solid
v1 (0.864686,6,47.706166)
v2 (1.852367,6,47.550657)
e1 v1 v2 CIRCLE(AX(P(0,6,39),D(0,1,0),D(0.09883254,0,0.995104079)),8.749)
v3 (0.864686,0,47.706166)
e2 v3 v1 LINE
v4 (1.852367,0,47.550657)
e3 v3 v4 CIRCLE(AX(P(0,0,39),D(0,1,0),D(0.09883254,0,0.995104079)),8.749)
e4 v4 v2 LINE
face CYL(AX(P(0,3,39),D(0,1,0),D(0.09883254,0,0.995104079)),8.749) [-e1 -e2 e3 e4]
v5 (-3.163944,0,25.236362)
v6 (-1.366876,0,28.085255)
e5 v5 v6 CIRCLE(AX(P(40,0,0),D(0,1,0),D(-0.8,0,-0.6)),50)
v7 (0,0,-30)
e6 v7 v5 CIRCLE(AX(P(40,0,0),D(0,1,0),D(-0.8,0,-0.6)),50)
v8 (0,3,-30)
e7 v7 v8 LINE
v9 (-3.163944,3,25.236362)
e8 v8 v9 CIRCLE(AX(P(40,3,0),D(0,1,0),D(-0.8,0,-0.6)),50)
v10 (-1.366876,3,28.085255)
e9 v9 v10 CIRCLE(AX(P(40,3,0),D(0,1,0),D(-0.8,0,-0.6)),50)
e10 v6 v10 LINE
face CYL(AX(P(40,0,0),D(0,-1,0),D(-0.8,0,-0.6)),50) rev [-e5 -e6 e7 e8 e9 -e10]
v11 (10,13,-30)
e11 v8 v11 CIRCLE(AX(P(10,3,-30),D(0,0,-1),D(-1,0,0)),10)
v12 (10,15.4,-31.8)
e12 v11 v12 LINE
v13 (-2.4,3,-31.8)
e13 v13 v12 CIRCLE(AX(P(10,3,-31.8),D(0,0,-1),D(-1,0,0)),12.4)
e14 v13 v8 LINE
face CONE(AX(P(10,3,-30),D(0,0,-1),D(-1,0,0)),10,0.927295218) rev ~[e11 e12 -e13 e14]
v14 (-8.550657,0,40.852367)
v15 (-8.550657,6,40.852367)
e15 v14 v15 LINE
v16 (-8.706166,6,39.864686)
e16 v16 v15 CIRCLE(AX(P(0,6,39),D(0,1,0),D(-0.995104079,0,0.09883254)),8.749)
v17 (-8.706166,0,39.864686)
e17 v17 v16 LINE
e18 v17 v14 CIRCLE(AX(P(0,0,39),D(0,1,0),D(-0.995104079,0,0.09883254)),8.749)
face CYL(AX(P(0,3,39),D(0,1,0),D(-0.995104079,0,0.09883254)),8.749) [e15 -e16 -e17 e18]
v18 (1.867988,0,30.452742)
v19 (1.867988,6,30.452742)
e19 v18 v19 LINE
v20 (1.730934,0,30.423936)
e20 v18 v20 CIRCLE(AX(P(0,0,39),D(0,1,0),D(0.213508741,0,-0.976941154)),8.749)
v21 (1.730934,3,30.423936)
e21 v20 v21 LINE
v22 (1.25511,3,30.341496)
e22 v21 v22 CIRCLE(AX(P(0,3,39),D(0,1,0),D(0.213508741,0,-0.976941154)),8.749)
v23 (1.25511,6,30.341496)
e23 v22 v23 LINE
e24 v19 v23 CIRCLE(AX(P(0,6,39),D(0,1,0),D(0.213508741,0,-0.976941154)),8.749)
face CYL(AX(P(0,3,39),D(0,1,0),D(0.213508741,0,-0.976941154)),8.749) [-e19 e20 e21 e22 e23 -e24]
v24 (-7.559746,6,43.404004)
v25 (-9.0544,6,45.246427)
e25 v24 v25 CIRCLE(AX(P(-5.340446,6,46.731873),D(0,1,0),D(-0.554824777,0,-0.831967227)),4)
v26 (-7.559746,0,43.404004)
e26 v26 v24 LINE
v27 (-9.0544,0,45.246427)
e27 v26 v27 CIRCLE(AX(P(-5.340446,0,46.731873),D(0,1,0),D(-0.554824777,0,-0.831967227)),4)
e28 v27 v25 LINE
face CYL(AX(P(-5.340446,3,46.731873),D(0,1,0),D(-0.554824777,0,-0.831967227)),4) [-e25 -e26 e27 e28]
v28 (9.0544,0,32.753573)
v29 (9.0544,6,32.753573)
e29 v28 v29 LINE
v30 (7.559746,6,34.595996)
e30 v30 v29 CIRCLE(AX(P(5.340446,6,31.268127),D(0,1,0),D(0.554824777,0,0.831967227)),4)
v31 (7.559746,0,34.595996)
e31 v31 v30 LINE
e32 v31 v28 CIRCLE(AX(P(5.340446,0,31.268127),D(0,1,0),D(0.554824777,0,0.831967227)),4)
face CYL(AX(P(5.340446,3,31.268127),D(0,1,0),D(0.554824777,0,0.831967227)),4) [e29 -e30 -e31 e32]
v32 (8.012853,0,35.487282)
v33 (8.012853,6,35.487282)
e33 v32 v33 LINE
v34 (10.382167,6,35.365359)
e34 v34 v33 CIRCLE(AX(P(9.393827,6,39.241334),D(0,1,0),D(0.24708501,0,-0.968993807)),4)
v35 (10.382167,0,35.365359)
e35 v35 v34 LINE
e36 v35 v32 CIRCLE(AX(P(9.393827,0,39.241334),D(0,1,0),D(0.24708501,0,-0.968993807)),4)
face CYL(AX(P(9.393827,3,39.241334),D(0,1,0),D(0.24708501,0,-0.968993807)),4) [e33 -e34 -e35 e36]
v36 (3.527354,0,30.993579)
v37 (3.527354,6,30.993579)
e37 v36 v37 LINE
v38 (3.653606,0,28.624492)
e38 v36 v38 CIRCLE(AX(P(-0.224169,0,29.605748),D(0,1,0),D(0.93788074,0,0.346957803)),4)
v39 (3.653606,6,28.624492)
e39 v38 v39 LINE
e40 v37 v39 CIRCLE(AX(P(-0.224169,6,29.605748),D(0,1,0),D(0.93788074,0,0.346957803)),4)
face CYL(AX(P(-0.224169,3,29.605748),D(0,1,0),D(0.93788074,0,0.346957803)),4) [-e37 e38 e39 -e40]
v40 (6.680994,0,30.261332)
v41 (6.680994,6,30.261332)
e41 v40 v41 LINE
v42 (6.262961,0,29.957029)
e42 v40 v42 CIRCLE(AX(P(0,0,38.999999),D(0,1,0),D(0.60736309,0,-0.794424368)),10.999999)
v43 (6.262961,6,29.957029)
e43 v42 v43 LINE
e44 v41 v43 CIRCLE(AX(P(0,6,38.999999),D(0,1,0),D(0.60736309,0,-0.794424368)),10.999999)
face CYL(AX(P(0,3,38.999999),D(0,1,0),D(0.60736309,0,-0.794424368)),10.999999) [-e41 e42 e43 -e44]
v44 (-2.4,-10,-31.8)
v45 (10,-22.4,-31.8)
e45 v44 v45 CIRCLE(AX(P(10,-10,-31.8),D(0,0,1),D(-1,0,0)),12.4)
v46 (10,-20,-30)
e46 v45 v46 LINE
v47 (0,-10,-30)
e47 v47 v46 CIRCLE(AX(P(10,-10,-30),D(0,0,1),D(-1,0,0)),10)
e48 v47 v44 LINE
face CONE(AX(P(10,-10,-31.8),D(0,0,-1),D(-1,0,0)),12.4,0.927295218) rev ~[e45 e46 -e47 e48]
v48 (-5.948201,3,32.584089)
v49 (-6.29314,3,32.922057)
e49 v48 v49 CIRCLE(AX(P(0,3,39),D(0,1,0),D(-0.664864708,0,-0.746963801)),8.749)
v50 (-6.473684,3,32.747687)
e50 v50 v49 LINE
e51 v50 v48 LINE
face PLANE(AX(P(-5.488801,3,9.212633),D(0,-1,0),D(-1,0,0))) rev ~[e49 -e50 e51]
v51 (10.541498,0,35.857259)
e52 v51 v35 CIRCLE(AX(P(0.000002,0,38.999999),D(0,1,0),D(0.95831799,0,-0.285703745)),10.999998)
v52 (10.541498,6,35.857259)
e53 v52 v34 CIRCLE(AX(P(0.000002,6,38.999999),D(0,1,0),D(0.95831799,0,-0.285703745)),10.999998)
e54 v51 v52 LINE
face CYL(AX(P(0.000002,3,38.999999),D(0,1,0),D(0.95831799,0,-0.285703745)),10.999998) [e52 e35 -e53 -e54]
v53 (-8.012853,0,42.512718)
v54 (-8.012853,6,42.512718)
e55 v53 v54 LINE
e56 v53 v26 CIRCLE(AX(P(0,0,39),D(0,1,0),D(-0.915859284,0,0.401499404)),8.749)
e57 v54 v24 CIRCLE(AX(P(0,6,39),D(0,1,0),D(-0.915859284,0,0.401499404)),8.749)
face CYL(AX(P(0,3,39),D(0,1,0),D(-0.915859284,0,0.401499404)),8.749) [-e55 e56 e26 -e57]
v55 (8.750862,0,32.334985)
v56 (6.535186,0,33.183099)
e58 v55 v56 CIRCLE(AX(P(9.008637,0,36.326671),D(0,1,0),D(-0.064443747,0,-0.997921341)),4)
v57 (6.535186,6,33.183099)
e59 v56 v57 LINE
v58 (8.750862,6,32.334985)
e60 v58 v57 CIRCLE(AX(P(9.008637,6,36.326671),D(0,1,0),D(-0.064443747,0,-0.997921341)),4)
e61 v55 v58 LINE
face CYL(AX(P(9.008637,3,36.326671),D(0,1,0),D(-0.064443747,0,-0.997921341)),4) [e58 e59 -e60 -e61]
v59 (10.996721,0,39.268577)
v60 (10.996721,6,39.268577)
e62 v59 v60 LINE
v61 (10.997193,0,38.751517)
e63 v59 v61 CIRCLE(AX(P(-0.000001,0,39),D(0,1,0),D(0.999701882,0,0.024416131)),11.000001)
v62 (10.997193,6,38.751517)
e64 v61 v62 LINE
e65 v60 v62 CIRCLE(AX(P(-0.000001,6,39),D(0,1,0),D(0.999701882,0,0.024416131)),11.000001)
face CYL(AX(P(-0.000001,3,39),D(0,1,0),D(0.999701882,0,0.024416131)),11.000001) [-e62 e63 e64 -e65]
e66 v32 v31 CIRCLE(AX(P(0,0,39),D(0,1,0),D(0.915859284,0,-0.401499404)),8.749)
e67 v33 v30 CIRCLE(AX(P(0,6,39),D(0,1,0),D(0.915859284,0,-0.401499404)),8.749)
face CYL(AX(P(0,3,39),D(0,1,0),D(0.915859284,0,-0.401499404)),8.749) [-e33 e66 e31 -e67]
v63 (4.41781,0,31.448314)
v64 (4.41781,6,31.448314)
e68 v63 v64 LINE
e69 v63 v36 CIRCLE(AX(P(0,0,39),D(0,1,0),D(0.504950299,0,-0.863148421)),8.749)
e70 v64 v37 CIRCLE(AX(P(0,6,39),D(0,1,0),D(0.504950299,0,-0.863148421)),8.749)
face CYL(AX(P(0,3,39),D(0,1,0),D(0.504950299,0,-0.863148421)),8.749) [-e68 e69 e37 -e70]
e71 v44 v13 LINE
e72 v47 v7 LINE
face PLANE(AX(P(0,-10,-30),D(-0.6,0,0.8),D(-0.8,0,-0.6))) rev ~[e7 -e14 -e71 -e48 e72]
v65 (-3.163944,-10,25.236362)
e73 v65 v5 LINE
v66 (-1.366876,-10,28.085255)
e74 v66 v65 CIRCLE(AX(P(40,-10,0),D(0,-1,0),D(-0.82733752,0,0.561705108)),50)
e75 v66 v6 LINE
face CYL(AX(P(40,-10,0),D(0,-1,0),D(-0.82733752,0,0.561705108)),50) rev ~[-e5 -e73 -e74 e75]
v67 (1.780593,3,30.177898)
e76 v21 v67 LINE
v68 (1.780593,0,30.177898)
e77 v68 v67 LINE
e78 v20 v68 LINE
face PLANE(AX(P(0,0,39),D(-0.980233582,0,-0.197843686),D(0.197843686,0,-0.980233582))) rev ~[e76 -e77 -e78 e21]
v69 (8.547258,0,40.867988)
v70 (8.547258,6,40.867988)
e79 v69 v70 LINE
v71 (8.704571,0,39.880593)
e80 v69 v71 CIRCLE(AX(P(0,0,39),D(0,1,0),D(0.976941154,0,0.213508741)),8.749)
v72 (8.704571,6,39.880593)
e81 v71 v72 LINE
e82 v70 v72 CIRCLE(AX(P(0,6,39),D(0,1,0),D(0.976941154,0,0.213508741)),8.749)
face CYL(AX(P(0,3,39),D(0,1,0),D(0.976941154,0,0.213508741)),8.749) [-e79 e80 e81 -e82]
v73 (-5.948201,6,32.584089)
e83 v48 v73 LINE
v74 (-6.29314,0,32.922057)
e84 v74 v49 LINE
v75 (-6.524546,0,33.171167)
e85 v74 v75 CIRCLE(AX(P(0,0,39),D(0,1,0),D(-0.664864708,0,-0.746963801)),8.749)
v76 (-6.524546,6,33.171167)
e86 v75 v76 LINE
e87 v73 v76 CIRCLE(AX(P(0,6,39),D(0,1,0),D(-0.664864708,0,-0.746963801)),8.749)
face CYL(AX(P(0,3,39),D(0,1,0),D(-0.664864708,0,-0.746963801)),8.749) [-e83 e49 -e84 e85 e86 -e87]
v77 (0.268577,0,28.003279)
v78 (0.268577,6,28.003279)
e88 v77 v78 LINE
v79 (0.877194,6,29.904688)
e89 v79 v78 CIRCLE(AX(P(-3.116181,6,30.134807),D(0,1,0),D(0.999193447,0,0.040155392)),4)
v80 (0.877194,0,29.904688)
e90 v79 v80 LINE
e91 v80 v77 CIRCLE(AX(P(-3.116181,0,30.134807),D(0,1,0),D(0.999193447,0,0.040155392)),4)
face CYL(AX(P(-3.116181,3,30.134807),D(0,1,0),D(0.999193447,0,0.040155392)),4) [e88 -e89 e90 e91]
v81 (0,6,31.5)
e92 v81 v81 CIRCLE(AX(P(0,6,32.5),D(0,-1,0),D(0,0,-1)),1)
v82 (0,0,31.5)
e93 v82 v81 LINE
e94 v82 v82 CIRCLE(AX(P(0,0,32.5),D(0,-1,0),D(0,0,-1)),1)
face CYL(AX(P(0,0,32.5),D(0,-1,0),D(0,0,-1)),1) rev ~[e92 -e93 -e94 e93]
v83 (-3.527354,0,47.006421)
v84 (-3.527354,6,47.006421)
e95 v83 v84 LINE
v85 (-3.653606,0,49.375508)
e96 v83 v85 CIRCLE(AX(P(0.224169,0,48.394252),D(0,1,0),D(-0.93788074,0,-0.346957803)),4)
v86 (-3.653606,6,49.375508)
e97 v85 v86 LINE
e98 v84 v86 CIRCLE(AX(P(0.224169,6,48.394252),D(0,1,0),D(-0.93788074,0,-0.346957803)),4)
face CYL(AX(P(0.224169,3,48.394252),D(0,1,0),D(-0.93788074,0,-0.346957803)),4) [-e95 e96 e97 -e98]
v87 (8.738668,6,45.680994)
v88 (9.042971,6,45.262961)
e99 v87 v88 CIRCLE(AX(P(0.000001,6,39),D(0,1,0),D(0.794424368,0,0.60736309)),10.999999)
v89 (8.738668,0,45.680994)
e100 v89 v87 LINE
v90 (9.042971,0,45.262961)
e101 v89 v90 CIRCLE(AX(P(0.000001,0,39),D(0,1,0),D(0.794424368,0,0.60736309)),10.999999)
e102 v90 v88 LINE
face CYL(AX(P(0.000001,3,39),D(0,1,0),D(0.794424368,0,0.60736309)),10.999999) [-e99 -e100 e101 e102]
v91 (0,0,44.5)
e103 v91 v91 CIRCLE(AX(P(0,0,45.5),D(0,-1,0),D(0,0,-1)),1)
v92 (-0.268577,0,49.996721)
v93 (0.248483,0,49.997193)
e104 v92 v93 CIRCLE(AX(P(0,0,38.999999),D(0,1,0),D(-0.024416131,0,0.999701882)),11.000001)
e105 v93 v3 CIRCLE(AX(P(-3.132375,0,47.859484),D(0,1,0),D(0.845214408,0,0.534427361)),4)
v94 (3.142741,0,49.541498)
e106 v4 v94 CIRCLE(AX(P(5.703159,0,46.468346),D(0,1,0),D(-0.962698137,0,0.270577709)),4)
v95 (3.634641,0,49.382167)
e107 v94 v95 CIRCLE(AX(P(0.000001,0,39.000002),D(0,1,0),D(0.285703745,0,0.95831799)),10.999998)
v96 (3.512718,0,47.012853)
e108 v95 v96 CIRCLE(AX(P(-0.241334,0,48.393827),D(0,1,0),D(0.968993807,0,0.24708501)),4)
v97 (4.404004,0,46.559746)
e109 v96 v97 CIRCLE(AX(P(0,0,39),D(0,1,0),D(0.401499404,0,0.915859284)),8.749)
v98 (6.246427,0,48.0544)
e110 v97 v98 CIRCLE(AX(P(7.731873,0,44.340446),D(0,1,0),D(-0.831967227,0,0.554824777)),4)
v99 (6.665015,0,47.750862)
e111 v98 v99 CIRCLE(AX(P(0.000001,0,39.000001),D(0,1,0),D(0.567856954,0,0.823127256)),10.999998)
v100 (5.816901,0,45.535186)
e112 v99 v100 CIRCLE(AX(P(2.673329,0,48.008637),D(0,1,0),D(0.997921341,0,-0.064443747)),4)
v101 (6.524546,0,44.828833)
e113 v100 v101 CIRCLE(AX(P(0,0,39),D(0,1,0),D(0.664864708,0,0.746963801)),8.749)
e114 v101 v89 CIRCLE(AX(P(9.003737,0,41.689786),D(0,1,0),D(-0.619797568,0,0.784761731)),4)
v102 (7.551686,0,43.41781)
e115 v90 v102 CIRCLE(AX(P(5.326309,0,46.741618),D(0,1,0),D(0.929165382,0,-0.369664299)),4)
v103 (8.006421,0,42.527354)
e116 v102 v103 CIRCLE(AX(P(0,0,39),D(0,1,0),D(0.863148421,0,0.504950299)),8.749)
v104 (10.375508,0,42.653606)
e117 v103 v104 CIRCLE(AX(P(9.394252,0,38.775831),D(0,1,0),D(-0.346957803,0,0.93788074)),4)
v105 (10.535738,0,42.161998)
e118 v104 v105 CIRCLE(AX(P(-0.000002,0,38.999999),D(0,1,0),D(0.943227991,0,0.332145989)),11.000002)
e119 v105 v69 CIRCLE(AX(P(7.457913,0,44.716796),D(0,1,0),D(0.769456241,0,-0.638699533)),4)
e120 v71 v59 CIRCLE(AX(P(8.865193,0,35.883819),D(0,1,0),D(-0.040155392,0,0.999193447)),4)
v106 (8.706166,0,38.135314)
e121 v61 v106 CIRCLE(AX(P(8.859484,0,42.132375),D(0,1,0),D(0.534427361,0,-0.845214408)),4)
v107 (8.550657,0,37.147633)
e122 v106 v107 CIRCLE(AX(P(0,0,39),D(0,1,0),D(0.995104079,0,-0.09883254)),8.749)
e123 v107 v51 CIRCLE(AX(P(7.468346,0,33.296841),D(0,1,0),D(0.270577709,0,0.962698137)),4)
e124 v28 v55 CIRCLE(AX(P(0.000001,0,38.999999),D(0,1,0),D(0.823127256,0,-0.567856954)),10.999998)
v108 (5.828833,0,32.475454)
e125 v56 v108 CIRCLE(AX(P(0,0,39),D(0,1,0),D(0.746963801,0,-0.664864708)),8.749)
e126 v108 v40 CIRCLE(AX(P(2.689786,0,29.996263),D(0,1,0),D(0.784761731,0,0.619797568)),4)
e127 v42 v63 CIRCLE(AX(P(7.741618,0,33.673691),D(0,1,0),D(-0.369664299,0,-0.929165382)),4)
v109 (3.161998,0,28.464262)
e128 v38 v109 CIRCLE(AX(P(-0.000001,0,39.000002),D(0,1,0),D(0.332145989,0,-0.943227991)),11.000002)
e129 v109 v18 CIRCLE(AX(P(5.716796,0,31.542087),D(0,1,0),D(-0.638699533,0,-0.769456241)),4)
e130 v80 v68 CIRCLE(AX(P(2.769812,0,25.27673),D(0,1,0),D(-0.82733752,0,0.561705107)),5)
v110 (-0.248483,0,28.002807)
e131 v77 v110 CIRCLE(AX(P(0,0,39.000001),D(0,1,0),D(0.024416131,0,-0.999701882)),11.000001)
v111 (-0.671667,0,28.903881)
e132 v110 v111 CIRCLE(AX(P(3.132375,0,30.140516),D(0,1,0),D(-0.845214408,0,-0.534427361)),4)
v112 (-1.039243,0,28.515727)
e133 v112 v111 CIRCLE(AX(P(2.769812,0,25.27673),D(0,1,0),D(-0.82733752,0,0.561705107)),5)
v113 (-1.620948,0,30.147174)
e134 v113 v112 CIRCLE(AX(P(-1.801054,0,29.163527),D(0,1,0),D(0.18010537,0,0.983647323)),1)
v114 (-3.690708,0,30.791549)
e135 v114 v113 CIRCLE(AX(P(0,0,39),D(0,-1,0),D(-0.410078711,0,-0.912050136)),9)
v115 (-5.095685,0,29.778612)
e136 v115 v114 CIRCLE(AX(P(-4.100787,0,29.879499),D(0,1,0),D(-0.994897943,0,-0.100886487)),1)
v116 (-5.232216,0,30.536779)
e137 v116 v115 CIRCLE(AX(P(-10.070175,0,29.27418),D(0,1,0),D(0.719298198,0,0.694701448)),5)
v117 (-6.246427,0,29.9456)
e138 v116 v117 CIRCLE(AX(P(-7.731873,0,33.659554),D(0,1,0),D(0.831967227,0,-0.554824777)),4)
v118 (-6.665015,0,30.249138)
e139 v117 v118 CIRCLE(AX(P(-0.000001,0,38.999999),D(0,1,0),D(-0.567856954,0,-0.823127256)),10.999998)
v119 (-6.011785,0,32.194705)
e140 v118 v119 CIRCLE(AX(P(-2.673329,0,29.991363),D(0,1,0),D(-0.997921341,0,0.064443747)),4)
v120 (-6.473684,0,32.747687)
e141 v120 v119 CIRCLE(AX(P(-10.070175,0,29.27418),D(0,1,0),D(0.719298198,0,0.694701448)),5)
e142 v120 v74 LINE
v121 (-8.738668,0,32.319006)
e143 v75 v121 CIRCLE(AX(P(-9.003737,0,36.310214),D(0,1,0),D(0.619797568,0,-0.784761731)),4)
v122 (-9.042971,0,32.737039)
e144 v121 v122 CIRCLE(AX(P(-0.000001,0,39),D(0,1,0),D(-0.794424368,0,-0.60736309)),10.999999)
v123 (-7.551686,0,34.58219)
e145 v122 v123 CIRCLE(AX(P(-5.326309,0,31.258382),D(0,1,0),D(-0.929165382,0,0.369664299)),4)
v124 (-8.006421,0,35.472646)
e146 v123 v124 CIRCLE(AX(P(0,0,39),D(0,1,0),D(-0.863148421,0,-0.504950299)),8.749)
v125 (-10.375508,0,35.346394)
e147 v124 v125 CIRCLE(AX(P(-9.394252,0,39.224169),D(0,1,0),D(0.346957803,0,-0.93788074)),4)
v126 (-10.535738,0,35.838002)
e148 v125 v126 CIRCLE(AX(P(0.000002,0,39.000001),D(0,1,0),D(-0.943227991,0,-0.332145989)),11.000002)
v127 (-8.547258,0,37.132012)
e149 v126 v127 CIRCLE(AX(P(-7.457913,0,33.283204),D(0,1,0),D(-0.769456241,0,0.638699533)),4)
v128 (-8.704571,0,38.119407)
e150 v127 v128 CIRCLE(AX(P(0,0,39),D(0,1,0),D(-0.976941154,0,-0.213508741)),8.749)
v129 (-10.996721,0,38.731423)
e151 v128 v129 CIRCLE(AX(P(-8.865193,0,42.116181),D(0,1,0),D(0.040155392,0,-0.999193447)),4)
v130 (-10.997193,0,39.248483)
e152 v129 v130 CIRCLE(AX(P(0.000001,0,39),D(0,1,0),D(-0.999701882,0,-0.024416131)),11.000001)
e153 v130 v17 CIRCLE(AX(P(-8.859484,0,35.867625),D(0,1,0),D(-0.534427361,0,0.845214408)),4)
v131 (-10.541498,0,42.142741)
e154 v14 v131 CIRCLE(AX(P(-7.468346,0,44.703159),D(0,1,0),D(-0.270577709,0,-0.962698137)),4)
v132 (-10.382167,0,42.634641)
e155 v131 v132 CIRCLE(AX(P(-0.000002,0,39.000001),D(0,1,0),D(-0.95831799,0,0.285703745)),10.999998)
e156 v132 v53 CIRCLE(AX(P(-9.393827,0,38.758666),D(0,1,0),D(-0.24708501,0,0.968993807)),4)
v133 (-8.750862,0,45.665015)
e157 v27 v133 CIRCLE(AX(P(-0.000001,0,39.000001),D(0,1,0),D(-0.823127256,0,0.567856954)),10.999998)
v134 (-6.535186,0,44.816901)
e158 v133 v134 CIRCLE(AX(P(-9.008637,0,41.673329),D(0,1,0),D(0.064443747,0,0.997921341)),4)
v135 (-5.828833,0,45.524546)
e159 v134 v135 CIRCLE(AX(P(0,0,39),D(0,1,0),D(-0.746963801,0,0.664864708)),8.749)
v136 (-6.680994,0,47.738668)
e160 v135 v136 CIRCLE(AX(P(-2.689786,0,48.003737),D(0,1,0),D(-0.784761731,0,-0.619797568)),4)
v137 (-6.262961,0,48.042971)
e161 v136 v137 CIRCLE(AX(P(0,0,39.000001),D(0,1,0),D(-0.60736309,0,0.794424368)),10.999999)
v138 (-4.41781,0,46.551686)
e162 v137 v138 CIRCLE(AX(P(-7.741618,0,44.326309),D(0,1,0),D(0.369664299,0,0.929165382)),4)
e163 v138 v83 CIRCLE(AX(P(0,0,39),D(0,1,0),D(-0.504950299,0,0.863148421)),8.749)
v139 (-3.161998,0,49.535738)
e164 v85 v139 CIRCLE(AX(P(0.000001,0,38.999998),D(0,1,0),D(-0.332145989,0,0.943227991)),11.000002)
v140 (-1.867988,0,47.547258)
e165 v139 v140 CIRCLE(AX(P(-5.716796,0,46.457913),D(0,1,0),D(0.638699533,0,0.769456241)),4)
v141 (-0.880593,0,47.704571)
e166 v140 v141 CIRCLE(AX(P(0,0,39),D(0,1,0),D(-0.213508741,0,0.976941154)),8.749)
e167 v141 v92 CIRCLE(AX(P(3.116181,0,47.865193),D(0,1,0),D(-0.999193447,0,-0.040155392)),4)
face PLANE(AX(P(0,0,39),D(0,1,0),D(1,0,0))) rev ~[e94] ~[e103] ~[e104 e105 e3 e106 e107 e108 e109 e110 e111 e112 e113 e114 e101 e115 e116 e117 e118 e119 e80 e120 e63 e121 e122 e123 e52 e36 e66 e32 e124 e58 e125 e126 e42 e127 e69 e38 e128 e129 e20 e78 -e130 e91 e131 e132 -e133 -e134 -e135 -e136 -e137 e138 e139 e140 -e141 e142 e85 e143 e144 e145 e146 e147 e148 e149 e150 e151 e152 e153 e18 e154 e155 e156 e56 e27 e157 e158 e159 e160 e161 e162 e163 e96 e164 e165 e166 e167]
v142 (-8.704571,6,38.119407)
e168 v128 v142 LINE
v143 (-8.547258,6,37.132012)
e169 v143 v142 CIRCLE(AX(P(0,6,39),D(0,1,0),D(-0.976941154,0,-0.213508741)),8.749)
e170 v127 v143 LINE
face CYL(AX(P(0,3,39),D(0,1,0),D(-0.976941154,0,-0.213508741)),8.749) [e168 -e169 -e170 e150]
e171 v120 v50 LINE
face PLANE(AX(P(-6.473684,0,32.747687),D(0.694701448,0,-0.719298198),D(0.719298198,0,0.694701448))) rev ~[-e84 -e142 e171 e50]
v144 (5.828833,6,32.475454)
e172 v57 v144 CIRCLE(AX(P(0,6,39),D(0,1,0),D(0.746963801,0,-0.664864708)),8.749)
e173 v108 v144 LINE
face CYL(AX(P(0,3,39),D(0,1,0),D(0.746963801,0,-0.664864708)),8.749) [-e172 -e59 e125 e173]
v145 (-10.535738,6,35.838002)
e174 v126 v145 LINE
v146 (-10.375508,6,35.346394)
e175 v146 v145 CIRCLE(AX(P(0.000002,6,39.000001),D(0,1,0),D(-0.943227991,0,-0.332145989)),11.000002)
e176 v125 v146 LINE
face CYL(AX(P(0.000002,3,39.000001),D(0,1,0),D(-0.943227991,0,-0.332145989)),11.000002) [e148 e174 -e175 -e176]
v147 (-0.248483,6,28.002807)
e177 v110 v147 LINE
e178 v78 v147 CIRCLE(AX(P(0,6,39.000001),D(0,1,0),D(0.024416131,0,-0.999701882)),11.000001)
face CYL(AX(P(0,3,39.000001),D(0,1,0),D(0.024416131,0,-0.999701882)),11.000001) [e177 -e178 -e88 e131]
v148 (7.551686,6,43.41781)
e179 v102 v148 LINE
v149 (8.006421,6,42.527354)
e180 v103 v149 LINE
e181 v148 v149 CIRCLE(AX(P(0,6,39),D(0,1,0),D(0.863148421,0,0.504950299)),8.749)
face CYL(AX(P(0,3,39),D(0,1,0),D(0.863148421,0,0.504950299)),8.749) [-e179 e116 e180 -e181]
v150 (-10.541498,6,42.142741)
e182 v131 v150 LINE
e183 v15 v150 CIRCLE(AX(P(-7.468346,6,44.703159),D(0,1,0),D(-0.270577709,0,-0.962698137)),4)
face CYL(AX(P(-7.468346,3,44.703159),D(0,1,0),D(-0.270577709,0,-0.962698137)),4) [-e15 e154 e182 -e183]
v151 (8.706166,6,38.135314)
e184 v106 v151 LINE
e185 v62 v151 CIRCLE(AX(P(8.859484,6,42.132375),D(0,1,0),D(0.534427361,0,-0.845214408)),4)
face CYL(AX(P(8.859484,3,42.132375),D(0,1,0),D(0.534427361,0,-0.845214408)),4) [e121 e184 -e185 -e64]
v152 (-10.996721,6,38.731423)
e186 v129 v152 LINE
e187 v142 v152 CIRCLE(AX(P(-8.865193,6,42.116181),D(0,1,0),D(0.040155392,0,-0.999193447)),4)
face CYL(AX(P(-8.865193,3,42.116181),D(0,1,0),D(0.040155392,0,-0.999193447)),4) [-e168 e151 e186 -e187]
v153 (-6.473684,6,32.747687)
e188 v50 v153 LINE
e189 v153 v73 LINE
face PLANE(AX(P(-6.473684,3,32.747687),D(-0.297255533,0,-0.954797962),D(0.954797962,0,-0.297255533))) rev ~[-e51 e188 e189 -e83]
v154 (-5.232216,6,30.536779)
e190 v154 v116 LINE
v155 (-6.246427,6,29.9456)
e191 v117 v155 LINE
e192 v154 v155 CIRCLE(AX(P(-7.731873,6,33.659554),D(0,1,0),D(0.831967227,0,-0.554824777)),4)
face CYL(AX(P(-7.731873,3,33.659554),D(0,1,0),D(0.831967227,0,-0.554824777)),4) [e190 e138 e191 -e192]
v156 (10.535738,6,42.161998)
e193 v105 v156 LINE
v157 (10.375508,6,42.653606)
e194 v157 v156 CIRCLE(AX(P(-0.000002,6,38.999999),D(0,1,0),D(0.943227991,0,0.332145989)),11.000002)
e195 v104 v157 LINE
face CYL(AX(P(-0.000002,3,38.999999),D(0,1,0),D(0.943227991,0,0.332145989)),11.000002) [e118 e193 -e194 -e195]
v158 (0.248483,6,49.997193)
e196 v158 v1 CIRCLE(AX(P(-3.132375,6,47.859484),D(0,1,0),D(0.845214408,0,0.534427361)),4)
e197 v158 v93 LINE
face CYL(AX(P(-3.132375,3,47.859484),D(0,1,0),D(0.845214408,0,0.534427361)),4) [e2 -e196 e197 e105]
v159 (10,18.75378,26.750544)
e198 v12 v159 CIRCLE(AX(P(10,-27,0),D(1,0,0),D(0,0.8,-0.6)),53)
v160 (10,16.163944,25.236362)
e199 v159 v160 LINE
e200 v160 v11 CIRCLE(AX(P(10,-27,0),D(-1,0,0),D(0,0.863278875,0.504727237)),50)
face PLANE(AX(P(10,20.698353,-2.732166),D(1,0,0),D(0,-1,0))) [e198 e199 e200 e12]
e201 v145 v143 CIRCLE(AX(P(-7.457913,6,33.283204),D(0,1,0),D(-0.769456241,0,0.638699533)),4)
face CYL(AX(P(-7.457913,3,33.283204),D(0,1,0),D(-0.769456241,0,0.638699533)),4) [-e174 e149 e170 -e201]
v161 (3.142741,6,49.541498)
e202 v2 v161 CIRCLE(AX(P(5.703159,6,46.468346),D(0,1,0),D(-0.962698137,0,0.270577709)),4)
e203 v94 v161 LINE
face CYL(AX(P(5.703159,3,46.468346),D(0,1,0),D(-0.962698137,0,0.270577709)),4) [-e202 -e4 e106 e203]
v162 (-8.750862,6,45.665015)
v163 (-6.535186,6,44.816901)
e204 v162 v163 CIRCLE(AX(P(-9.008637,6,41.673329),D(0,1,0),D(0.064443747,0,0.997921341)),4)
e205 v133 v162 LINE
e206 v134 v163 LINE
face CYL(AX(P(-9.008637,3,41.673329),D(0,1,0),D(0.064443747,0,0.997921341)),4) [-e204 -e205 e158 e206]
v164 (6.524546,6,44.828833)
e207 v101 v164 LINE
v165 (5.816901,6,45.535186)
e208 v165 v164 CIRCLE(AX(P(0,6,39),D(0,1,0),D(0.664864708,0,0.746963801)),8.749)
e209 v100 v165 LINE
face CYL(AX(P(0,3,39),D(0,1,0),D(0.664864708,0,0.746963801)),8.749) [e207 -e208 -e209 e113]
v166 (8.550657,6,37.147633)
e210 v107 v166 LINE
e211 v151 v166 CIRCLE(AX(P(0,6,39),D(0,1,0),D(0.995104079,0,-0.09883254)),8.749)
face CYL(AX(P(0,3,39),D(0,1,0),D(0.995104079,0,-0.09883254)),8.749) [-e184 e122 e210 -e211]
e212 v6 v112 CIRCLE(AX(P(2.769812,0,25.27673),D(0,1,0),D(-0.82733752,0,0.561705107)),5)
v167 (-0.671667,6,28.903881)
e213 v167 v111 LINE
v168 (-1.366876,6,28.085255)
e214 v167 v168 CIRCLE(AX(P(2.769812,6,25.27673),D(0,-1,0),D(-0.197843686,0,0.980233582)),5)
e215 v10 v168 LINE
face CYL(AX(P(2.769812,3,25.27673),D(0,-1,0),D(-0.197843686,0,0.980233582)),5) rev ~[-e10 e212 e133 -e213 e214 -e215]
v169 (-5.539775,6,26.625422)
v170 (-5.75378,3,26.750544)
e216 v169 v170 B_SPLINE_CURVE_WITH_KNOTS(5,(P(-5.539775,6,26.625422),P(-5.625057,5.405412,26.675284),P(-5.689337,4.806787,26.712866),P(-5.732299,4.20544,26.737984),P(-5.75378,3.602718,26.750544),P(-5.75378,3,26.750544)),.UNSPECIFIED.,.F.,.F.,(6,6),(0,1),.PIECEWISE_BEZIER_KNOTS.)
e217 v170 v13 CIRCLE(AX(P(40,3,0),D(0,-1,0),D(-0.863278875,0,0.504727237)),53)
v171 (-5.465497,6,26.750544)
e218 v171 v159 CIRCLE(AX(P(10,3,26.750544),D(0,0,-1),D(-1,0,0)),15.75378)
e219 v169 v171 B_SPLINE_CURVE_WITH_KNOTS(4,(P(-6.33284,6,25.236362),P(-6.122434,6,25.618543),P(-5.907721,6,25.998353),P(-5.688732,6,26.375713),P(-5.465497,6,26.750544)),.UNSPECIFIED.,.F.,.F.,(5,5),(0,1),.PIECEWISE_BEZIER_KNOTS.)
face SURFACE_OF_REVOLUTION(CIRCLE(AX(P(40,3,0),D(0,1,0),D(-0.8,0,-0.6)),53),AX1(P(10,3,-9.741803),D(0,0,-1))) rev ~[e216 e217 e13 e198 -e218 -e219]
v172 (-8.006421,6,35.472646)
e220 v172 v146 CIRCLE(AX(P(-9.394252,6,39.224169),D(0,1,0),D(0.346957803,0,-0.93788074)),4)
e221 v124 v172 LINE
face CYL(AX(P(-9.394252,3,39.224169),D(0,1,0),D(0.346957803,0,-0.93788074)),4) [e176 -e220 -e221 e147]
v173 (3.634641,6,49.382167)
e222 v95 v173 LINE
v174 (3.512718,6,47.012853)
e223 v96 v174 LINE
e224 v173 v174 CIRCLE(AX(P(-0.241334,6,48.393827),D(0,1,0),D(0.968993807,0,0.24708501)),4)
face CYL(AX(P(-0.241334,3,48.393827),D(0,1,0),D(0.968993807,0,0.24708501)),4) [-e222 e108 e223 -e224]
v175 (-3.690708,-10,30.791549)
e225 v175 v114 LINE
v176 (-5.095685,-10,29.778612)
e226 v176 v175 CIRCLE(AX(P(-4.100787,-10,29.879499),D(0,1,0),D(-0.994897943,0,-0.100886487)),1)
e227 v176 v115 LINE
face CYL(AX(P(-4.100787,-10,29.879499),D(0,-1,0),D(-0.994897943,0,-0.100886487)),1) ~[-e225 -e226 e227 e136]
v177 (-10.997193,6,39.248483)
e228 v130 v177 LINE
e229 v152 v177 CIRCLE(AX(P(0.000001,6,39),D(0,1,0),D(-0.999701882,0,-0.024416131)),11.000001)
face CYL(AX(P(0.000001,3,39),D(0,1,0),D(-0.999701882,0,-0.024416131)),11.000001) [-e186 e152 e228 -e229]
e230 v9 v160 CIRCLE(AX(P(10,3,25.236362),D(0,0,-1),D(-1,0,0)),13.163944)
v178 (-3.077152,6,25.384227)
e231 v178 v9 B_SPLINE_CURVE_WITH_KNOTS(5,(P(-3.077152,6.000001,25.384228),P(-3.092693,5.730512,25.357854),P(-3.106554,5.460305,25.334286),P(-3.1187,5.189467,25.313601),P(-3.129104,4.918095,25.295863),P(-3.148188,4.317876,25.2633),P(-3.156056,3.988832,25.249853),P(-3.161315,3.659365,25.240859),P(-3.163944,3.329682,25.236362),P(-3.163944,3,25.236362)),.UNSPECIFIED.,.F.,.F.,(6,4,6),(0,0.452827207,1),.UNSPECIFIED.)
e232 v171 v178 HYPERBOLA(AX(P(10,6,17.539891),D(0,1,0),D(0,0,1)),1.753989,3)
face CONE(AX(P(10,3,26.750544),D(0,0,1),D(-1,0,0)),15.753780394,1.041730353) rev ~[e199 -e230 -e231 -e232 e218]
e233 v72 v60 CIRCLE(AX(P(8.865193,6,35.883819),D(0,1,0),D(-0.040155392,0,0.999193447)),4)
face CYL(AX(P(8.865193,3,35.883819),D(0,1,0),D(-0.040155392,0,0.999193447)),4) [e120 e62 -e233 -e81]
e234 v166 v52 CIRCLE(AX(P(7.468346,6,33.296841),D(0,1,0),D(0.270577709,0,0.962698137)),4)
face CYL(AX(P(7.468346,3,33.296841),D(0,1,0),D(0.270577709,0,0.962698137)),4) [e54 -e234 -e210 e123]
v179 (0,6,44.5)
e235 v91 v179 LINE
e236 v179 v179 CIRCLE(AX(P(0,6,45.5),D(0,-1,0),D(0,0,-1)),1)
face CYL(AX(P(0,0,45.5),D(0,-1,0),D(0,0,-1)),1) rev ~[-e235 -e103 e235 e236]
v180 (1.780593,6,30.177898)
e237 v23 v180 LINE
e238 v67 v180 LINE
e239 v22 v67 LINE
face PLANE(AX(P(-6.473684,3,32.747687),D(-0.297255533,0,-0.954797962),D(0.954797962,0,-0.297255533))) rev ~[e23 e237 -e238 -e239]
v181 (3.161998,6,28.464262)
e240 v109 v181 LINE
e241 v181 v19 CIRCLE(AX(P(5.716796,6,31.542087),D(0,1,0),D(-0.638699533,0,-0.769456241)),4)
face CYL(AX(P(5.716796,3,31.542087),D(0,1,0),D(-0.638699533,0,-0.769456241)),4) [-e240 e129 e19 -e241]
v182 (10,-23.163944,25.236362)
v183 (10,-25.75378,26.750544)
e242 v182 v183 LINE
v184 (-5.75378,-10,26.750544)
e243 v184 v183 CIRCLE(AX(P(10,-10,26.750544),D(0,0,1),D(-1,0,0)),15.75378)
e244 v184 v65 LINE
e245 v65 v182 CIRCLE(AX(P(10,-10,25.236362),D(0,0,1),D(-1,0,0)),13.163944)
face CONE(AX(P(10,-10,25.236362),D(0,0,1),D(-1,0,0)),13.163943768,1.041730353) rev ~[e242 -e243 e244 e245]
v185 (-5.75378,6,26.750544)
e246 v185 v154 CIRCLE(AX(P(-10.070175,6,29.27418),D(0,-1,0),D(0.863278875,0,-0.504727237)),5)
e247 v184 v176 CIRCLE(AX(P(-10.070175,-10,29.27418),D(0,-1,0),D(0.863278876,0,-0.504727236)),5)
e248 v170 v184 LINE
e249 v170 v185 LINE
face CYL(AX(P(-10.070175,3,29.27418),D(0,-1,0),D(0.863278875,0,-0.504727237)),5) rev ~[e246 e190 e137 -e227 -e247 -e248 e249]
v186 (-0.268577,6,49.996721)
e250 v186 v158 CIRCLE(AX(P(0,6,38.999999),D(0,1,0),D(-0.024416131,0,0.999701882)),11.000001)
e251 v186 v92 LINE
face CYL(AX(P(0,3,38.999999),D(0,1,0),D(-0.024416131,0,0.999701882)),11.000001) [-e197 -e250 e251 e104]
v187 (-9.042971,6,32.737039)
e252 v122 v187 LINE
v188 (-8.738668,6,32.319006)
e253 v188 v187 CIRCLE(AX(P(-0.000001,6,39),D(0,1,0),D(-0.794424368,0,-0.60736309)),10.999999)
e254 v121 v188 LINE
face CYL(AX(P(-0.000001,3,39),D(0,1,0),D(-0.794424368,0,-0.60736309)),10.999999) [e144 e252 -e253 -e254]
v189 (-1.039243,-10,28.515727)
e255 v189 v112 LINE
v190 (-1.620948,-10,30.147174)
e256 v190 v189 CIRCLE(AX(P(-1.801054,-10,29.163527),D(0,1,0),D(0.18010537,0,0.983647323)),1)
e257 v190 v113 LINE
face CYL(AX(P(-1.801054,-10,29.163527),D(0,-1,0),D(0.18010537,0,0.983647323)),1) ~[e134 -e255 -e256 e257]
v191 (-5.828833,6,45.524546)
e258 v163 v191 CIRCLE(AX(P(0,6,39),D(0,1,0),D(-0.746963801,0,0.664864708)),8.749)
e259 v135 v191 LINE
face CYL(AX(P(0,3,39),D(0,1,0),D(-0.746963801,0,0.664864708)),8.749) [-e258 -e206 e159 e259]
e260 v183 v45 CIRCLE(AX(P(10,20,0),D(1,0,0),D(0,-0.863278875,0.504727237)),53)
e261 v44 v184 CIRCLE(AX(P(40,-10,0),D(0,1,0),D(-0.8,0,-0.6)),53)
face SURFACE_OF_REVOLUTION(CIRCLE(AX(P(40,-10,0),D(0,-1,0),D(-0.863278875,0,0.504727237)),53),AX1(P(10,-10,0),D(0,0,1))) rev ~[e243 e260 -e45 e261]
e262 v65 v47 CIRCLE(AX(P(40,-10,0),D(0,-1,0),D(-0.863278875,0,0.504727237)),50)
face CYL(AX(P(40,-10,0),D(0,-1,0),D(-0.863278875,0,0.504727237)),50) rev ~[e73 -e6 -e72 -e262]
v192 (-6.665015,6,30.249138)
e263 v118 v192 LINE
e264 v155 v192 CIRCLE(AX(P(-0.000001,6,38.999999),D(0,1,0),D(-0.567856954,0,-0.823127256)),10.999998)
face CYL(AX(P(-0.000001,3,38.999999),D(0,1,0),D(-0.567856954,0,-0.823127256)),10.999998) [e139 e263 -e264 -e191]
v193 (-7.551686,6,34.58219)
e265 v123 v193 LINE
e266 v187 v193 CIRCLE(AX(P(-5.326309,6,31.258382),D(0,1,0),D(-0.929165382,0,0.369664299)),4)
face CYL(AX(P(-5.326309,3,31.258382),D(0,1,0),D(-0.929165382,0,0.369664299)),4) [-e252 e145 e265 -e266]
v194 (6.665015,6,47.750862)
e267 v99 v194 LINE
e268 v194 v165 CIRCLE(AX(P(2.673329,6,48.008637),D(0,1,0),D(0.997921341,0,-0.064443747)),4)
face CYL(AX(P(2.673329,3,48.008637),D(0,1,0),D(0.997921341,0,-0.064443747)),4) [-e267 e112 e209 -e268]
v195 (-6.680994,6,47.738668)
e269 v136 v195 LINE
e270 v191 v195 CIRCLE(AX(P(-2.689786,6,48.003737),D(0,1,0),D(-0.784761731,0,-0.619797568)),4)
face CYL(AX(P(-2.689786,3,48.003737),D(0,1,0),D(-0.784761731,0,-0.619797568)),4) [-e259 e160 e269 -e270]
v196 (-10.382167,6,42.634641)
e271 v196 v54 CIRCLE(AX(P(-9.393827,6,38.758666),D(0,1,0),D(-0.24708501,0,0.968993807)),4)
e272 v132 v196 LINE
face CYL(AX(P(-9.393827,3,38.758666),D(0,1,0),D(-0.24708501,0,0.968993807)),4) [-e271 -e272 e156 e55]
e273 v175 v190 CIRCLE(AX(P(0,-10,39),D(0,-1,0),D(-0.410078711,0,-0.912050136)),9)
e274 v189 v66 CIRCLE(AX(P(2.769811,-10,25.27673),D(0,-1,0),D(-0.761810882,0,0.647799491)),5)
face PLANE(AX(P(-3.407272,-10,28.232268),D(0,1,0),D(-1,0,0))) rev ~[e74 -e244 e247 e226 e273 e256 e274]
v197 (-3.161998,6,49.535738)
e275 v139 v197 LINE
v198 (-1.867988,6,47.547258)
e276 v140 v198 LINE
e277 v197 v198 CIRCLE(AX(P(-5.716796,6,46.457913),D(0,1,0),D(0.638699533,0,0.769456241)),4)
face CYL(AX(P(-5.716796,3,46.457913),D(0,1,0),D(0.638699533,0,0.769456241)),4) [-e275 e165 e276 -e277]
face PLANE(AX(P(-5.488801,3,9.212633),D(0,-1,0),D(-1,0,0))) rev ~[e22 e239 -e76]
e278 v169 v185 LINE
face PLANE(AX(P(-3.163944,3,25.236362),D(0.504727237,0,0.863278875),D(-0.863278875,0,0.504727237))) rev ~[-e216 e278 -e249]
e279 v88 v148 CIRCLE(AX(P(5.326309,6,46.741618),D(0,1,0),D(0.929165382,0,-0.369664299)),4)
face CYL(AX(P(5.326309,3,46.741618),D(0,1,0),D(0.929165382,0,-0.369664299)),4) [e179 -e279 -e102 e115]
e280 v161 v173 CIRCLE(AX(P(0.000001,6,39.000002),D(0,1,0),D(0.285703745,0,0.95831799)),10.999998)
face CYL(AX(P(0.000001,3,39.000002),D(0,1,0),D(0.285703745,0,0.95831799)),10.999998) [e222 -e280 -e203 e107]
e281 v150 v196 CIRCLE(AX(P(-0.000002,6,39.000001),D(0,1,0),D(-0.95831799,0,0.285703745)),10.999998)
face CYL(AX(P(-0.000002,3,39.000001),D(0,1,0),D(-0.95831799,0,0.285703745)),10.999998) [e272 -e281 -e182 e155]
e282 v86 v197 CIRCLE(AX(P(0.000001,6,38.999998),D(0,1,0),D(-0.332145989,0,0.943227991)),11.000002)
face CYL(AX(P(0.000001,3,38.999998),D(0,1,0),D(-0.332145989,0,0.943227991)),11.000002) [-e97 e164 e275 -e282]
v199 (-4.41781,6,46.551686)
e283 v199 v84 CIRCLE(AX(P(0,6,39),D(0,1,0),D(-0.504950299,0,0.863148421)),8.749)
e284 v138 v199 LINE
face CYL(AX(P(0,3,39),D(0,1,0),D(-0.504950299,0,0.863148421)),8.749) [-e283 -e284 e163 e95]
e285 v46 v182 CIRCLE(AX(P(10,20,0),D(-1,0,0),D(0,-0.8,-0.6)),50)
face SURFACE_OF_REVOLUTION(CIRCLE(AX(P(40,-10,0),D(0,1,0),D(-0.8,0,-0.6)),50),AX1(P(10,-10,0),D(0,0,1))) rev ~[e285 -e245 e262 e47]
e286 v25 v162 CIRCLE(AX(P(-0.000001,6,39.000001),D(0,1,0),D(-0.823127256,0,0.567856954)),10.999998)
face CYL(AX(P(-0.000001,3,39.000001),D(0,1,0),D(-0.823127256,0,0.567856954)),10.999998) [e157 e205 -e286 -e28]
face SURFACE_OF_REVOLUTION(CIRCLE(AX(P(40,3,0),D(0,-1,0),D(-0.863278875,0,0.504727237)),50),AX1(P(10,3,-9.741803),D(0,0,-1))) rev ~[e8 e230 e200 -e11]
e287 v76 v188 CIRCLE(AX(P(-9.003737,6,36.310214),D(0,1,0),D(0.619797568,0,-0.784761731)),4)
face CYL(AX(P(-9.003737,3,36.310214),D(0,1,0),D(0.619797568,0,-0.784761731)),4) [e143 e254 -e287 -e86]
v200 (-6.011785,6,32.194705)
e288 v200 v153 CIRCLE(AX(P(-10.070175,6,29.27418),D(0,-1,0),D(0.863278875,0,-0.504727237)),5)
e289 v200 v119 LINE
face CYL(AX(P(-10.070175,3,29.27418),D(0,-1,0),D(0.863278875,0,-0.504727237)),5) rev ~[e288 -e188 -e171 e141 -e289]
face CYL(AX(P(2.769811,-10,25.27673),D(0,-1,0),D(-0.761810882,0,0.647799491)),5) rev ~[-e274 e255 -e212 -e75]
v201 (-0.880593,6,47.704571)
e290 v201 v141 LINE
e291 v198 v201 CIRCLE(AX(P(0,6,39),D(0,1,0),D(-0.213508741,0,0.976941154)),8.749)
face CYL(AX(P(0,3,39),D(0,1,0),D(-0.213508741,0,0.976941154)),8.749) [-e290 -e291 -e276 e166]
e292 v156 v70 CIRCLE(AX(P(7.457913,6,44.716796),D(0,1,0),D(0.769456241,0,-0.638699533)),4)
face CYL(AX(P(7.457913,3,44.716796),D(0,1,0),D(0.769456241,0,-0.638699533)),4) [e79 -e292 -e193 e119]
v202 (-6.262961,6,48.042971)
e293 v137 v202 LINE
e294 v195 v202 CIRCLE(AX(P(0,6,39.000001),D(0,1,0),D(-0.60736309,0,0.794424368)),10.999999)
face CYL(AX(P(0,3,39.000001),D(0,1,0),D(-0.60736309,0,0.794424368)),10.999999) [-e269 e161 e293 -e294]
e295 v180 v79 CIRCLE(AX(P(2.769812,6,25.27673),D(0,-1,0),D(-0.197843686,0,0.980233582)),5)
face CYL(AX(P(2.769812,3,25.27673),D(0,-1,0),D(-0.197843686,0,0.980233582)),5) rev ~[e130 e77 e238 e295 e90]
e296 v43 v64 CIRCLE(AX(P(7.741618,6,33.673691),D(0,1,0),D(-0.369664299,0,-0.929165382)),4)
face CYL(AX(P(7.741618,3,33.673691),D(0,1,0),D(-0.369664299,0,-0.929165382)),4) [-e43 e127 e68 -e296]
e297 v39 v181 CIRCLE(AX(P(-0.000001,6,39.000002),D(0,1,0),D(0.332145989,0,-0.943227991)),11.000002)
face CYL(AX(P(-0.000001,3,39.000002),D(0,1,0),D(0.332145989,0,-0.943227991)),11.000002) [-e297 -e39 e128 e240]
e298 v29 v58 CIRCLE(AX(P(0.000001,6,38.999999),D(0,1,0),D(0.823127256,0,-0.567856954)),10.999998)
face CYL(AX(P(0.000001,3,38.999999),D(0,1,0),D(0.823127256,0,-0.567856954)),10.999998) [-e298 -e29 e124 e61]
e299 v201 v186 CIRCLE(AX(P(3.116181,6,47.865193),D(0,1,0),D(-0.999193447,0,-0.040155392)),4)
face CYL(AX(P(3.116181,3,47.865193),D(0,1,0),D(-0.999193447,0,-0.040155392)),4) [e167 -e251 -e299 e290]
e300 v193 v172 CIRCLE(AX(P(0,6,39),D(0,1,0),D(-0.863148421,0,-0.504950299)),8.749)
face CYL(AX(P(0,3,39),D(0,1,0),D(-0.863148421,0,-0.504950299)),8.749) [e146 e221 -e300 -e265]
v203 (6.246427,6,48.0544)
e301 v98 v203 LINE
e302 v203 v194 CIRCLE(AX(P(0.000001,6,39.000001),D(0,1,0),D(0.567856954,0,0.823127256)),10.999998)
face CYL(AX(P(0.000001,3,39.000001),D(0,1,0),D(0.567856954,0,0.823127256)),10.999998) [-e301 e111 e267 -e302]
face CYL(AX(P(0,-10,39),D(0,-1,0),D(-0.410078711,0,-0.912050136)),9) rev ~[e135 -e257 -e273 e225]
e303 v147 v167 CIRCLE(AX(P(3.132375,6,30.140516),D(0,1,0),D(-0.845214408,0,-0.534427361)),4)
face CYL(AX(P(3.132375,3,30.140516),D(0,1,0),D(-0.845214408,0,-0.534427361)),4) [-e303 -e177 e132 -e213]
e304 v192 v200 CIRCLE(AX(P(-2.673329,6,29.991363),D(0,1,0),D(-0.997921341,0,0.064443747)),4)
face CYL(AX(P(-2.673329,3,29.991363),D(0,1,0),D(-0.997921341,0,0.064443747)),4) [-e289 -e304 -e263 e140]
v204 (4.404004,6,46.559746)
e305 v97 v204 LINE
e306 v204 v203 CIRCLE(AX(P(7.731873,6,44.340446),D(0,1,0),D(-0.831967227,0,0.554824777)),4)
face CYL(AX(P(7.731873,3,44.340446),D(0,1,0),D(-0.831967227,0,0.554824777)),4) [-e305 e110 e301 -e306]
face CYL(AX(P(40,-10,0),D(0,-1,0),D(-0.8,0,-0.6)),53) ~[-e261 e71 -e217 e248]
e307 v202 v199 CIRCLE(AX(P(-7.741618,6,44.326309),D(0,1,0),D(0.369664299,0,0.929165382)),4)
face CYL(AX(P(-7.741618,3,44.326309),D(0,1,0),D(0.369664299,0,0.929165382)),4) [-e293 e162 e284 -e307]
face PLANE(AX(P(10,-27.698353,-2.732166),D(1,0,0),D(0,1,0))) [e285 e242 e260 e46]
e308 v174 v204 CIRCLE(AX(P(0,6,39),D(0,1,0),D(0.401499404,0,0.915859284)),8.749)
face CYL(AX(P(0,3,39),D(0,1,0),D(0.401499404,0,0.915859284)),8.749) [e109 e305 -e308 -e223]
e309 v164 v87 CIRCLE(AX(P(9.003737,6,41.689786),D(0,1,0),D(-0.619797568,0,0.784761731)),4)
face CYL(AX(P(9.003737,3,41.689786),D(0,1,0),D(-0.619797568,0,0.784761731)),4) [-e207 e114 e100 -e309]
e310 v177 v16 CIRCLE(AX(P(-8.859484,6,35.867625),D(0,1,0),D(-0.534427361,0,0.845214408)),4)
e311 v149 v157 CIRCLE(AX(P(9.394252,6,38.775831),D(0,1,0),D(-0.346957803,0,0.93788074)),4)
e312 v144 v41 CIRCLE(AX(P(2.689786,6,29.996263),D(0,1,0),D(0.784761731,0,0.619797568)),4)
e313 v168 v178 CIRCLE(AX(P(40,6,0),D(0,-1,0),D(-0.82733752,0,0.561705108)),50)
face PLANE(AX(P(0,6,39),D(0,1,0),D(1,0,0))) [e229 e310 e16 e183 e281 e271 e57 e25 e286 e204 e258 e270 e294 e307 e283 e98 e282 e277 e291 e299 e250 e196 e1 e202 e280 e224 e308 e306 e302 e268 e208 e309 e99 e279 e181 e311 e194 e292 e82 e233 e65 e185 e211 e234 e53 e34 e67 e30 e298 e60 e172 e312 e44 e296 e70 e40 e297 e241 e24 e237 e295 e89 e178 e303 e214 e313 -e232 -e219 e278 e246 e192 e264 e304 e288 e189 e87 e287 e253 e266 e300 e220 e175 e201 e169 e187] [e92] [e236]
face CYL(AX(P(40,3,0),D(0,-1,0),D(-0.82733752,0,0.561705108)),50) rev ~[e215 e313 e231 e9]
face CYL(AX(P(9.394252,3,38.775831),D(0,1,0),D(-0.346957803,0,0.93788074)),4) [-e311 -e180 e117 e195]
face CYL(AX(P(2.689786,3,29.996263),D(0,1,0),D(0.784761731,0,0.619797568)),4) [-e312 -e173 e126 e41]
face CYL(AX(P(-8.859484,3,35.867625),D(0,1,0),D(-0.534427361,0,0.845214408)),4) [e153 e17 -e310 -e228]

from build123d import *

# Parameters (mm, degrees)
SKETCH_1_R          = 1.25
EXTRUDE_2_DEPTH     = 3
REVOLVE_6_ANGLE     = 90
EXTRUDE_START       = 10
EXTRUDE_3_DEPTH     = 10
REVOLVE_7_ANGLE     = 90
EXTRUDE_4_DEPTH     = 10
CUT_EXTRUDE_START   = -3
CUT_EXTRUDE_1_DEPTH = 3
EXTRUDE_6_DEPTH     = 3
EXTRUDE_7_DEPTH     = 3
SKETCH_9_R          = 1
CUT_EXTRUDE_2_DEPTH = 62.302528599


with BuildPart() as part:
    # 草图1 → 凸台-拉伸2 (new body)
    with BuildSketch(Plane(origin=(0, 0, 0), x_dir=(1, 0, 0), z_dir=(0, 1, 0))):
        with BuildLine():
            Line((-2.4, 31.8), (0, 30))
            ThreePointArc((0, 30), (-9.986161593, 1.176286204), (-1.366875999, -28.085255385))
            ThreePointArc((-1.366875999, -28.085255385), (0.001505949, -29.44044019), (1.780593172, -30.177897759))
            ThreePointArc((1.780593172, -30.177897759), (2.675299798, -47.593181657), (-6.473683781, -32.747686964))
            ThreePointArc((-6.473683781, -32.747686964), (-5.105814689, -29.870106713), (-5.753780394, -26.750543539))
            ThreePointArc((-5.753780394, -26.750543539), (-12.913266641, 3.030876667), (-2.4, 31.8))
        make_face()
        with Locations(Location((0, -39, 0), (0, 0, 270))):
            Circle(SKETCH_1_R, mode=Mode.SUBTRACT)
    extrude(amount=EXTRUDE_2_DEPTH)

    # 草图2 → 旋转6 (revolve)
    with BuildSketch(Plane(origin=(0, 3, 0), x_dir=(1, 0, 0), z_dir=(0, 1, 0))):
        with BuildLine():
            Line((-5.753780394, -26.750543539), (-3.163943768, -25.236361829))
            ThreePointArc((-3.163943768, -25.236361829), (-9.918176076, 2.85931761), (0, 30))
            Line((0, 30), (-2.4, 31.8))
            ThreePointArc((-2.4, 31.8), (-12.913266641, 3.030876667), (-5.753780394, -26.750543539))
        make_face()
    revolve(axis=Axis((10, 3, -9.741803388), (0, 0, -1)), revolution_arc=REVOLVE_6_ANGLE)

    # 草图3 → 凸台-拉伸3 (add)
    with BuildSketch(Plane.XZ.offset(EXTRUDE_START)):
        with BuildLine():
            Line((0, -30), (-2.4, -31.8))
            ThreePointArc((-2.4, -31.8), (-12.913266641, -3.030876667), (-5.753780394, 26.750543539))
            Line((-5.753780394, 26.750543539), (-3.163943768, 25.236361829))
            ThreePointArc((-3.163943768, 25.236361829), (-9.918176076, -2.85931761), (0, -30))
        make_face()
    extrude(amount=-EXTRUDE_3_DEPTH)

    # 草图4 → 旋转7 (revolve)
    with BuildSketch(Plane.XZ.offset(10)):
        with BuildLine():
            Line((-3.163943768, 25.236361829), (-5.753780394, 26.750543539))
            ThreePointArc((-5.753780394, 26.750543539), (-12.913266641, -3.030876667), (-2.4, -31.8))
            Line((-2.4, -31.8), (0, -30))
            ThreePointArc((0, -30), (-9.918176076, -2.85931761), (-3.163943768, 25.236361829))
        make_face()
    revolve(axis=Axis((10, -10, 0), (0, 0, 1)), revolution_arc=REVOLVE_7_ANGLE)

    # 草图5 → 凸台-拉伸4 (add)
    with BuildSketch(Plane.XZ.offset(EXTRUDE_START)):
        with BuildLine():
            Line((-3.163943768, 25.236361829), (-5.753780394, 26.750543539))
            ThreePointArc((-5.753780394, 26.750543539), (-5.18423252, 28.212309525), (-5.095685056, 29.778612154))
            ThreePointArc((-5.095685056, 29.778612154), (-4.685606345, 30.69066229), (-3.690708402, 30.791548776))
            ThreePointArc((-3.690708402, 30.791548776), (-2.675299798, 30.406818343), (-1.620948336, 30.147174096))
            ThreePointArc((-1.620948336, 30.147174096), (-0.859137451, 29.499374608), (-1.039242822, 28.515727285))
            ThreePointArc((-1.039242822, 28.515727285), (-1.208885496, 28.304925583), (-1.366875999, 28.085255385))
            ThreePointArc((-1.366875999, 28.085255385), (-2.289406726, 26.675945695), (-3.163943768, 25.236361829))
        make_face()
    extrude(amount=-EXTRUDE_4_DEPTH)

    # 草图7 → 切除-拉伸1 (cut)
    with BuildSketch(Plane(origin=(0, 3, 0), x_dir=(1, 0, 0), z_dir=(0, 1, 0)).offset(CUT_EXTRUDE_START)):
        with BuildLine():
            Line((-6.473683781, -32.747686964), (0, -39))
            Line((0, -39), (1.780593172, -30.177897759))
            ThreePointArc((1.780593172, -30.177897759), (2.675299798, -47.593181657), (-6.473683781, -32.747686964))
        make_face()
    extrude(amount=CUT_EXTRUDE_1_DEPTH, mode=Mode.SUBTRACT)

    # 草图8 → 凸台-拉伸6 (add)
    with BuildSketch(Plane(origin=(0, 3, 0), x_dir=(1, 0, 0), z_dir=(0, 1, 0))):
        with BuildLine():
            Line((-6.473683781, -32.747686964), (1.780593172, -30.177897759))
            ThreePointArc((1.780593172, -30.177897759), (0.001505949, -29.44044019), (-1.366875999, -28.085255385))
            ThreePointArc((-1.366875999, -28.085255385), (-2.289406726, -26.675945695), (-3.163943768, -25.236361829))
            Line((-3.163943768, -25.236361829), (-5.753780394, -26.750543539))
            ThreePointArc((-5.753780394, -26.750543539), (-5.105814689, -29.870106713), (-6.473683781, -32.747686964))
        make_face()
    extrude(amount=EXTRUDE_6_DEPTH)

    # 草图6 → 凸台-拉伸7 (add, symmetric)
    with BuildSketch(Plane(origin=(0, 3, 0), x_dir=(1, 0, 0), z_dir=(0, 1, 0))):
        with BuildLine():
            ThreePointArc((0.248482904, -49.997193108), (0.730347264, -48.898415235), (0.864685889, -47.706165592))
            ThreePointArc((0.864685889, -47.706165592), (1.360749528, -47.642532136), (1.852366606, -47.550657224))
            ThreePointArc((1.852366606, -47.550657224), (2.34655871, -48.643945951), (3.142741235, -49.541497879))
            ThreePointArc((3.142741235, -49.541497879), (3.38962735, -49.464722951), (3.634640845, -49.382166726))
            ThreePointArc((3.634640845, -49.382166726), (3.75338005, -48.188262593), (3.512718273, -47.012852884))
            ThreePointArc((3.512718273, -47.012852884), (3.96483901, -46.799041776), (4.404003727, -46.55974551))
            ThreePointArc((4.404003727, -46.55974551), (5.211853144, -47.44681112), (6.246426521, -48.054399799))
            ThreePointArc((6.246426521, -48.054399799), (6.457504412, -47.905090498), (6.665014817, -47.750861528))
            ThreePointArc((6.665014817, -47.750861528), (6.409005844, -46.578698791), (5.816901318, -45.535186307))
            ThreePointArc((5.816901318, -45.535186307), (6.180822425, -45.192126868), (6.524546278, -44.828833234))
            ThreePointArc((6.524546278, -44.828833234), (7.566975078, -45.422843564), (8.738668058, -45.680993981))
            ThreePointArc((8.738668058, -45.680993981), (8.89327595, -45.473765742), (9.042970701, -45.262961033))
            ThreePointArc((9.042970701, -45.262961033), (8.437273493, -44.227279147), (7.551685533, -43.41781016))
            ThreePointArc((7.551685533, -43.41781016), (7.791783877, -42.979083439), (8.00642078, -42.527354149))
            ThreePointArc((8.00642078, -42.527354149), (9.18138877, -42.770163329), (10.37550788, -42.653605923))
            ThreePointArc((10.37550788, -42.653605923), (10.458511675, -42.408743689), (10.535737606, -42.161998276))
            ThreePointArc((10.535737606, -42.161998276), (9.639642026, -41.364177), (8.547258152, -40.867987975))
            ThreePointArc((8.547258152, -40.867987975), (8.640031234, -40.376539599), (8.704571032, -39.880593064))
            ThreePointArc((8.704571032, -39.880593064), (9.897064159, -39.74843324), (10.9967207, -39.268577461))
            ThreePointArc((10.9967207, -39.268577461), (10.999995409, -39.010050055), (10.997193108, -38.751517096))
            ThreePointArc((10.997193108, -38.751517096), (9.898415235, -38.269652736), (8.706165592, -38.135314111))
            ThreePointArc((8.706165592, -38.135314111), (8.642532136, -37.639250472), (8.550657224, -37.147633394))
            ThreePointArc((8.550657224, -37.147633394), (9.643945951, -36.65344129), (10.541497879, -35.857258765))
            ThreePointArc((10.541497879, -35.857258765), (10.464722951, -35.61037265), (10.382166726, -35.365359155))
            ThreePointArc((10.382166726, -35.365359155), (9.188262593, -35.24661995), (8.012852884, -35.487281727))
            ThreePointArc((8.012852884, -35.487281727), (7.799041776, -35.03516099), (7.55974551, -34.595996273))
            ThreePointArc((7.55974551, -34.595996273), (8.44681112, -33.788146856), (9.054399799, -32.753573479))
            ThreePointArc((9.054399799, -32.753573479), (8.905090498, -32.542495588), (8.750861528, -32.334985183))
            ThreePointArc((8.750861528, -32.334985183), (7.578698791, -32.590994156), (6.535186307, -33.183098682))
            ThreePointArc((6.535186307, -33.183098682), (6.192126868, -32.819177575), (5.828833234, -32.475453722))
            ThreePointArc((5.828833234, -32.475453722), (6.422843564, -31.433024922), (6.680993981, -30.261331942))
            ThreePointArc((6.680993981, -30.261331942), (6.473765742, -30.10672405), (6.262961033, -29.957029299))
            ThreePointArc((6.262961033, -29.957029299), (5.227279147, -30.562726507), (4.41781016, -31.448314467))
            ThreePointArc((4.41781016, -31.448314467), (3.979083439, -31.208216123), (3.527354149, -30.99357922))
            ThreePointArc((3.527354149, -30.99357922), (3.770163329, -29.81861123), (3.653605923, -28.62449212))
            ThreePointArc((3.653605923, -28.62449212), (3.408743689, -28.541488325), (3.161998276, -28.464262394))
            ThreePointArc((3.161998276, -28.464262394), (2.364177, -29.360357974), (1.867987975, -30.452741848))
            ThreePointArc((1.867987975, -30.452741848), (1.376539599, -30.359968766), (0.880593064, -30.295428968))
            ThreePointArc((0.880593064, -30.295428968), (0.74843324, -29.102935841), (0.268577461, -28.0032793))
            ThreePointArc((0.268577461, -28.0032793), (0.010050055, -28.000004591), (-0.248482904, -28.002806892))
            ThreePointArc((-0.248482904, -28.002806892), (-0.730347264, -29.101584765), (-0.864685889, -30.293834408))
            ThreePointArc((-0.864685889, -30.293834408), (-1.360749528, -30.357467864), (-1.852366606, -30.449342776))
            ThreePointArc((-1.852366606, -30.449342776), (-2.34655871, -29.356054049), (-3.142741235, -28.458502121))
            ThreePointArc((-3.142741235, -28.458502121), (-3.38962735, -28.535277049), (-3.634640845, -28.617833274))
            ThreePointArc((-3.634640845, -28.617833274), (-3.75338005, -29.811737407), (-3.512718273, -30.987147116))
            ThreePointArc((-3.512718273, -30.987147116), (-3.96483901, -31.200958224), (-4.404003727, -31.44025449))
            ThreePointArc((-4.404003727, -31.44025449), (-5.211853144, -30.55318888), (-6.246426521, -29.945600201))
            ThreePointArc((-6.246426521, -29.945600201), (-6.457504412, -30.094909502), (-6.665014817, -30.249138472))
            ThreePointArc((-6.665014817, -30.249138472), (-6.409005844, -31.421301209), (-5.816901318, -32.464813693))
            ThreePointArc((-5.816901318, -32.464813693), (-6.180822425, -32.807873132), (-6.524546278, -33.171166766))
            ThreePointArc((-6.524546278, -33.171166766), (-7.566975078, -32.577156436), (-8.738668058, -32.319006019))
            ThreePointArc((-8.738668058, -32.319006019), (-8.89327595, -32.526234258), (-9.042970701, -32.737038967))
            ThreePointArc((-9.042970701, -32.737038967), (-8.437273493, -33.772720853), (-7.551685533, -34.58218984))
            ThreePointArc((-7.551685533, -34.58218984), (-7.791783877, -35.020916561), (-8.00642078, -35.472645851))
            ThreePointArc((-8.00642078, -35.472645851), (-9.18138877, -35.229836671), (-10.37550788, -35.346394077))
            ThreePointArc((-10.37550788, -35.346394077), (-10.458511675, -35.591256311), (-10.535737606, -35.838001724))
            ThreePointArc((-10.535737606, -35.838001724), (-9.639642026, -36.635823), (-8.547258152, -37.132012025))
            ThreePointArc((-8.547258152, -37.132012025), (-8.640031234, -37.623460401), (-8.704571032, -38.119406936))
            ThreePointArc((-8.704571032, -38.119406936), (-9.897064159, -38.25156676), (-10.9967207, -38.731422539))
            ThreePointArc((-10.9967207, -38.731422539), (-10.999995409, -38.989949945), (-10.997193108, -39.248482904))
            ThreePointArc((-10.997193108, -39.248482904), (-9.898415235, -39.730347264), (-8.706165592, -39.864685889))
            ThreePointArc((-8.706165592, -39.864685889), (-8.642532136, -40.360749528), (-8.550657224, -40.852366606))
            ThreePointArc((-8.550657224, -40.852366606), (-9.643945951, -41.34655871), (-10.541497879, -42.142741235))
            ThreePointArc((-10.541497879, -42.142741235), (-10.464722951, -42.38962735), (-10.382166726, -42.634640845))
            ThreePointArc((-10.382166726, -42.634640845), (-9.188262593, -42.75338005), (-8.012852884, -42.512718273))
            ThreePointArc((-8.012852884, -42.512718273), (-7.799041776, -42.96483901), (-7.55974551, -43.404003727))
            ThreePointArc((-7.55974551, -43.404003727), (-8.44681112, -44.211853144), (-9.054399799, -45.246426521))
            ThreePointArc((-9.054399799, -45.246426521), (-8.905090498, -45.457504412), (-8.750861528, -45.665014817))
            ThreePointArc((-8.750861528, -45.665014817), (-7.578698791, -45.409005844), (-6.535186307, -44.816901318))
            ThreePointArc((-6.535186307, -44.816901318), (-6.192126868, -45.180822425), (-5.828833234, -45.524546278))
            ThreePointArc((-5.828833234, -45.524546278), (-6.422843564, -46.566975078), (-6.680993981, -47.738668058))
            ThreePointArc((-6.680993981, -47.738668058), (-6.473765742, -47.89327595), (-6.262961033, -48.042970701))
            ThreePointArc((-6.262961033, -48.042970701), (-5.227279147, -47.437273493), (-4.41781016, -46.551685533))
            ThreePointArc((-4.41781016, -46.551685533), (-3.979083439, -46.791783877), (-3.527354149, -47.00642078))
            ThreePointArc((-3.527354149, -47.00642078), (-3.770163329, -48.18138877), (-3.653605923, -49.37550788))
            ThreePointArc((-3.653605923, -49.37550788), (-3.408743689, -49.458511675), (-3.161998276, -49.535737606))
            ThreePointArc((-3.161998276, -49.535737606), (-2.364177, -48.639642026), (-1.867987975, -47.547258152))
            ThreePointArc((-1.867987975, -47.547258152), (-1.376539599, -47.640031234), (-0.880593064, -47.704571032))
            ThreePointArc((-0.880593064, -47.704571032), (-0.74843324, -48.897064159), (-0.268577461, -49.9967207))
            ThreePointArc((-0.268577461, -49.9967207), (-0.010050055, -49.999995409), (0.248482904, -49.997193108))
        make_face()
    extrude(amount=EXTRUDE_7_DEPTH, both=True)

    # 草图9 → 切除-拉伸2 (cut, through all)
    with BuildSketch(Plane.XZ):
        with Locations(Location((0, 45.5, 0), (0, 0, 270))):
            Circle(SKETCH_9_R)
        with Locations(Location((0, 32.5, 0), (0, 0, 270))):
            Circle(SKETCH_9_R)
    extrude(amount=-CUT_EXTRUDE_2_DEPTH, mode=Mode.SUBTRACT)


solid = part.part
